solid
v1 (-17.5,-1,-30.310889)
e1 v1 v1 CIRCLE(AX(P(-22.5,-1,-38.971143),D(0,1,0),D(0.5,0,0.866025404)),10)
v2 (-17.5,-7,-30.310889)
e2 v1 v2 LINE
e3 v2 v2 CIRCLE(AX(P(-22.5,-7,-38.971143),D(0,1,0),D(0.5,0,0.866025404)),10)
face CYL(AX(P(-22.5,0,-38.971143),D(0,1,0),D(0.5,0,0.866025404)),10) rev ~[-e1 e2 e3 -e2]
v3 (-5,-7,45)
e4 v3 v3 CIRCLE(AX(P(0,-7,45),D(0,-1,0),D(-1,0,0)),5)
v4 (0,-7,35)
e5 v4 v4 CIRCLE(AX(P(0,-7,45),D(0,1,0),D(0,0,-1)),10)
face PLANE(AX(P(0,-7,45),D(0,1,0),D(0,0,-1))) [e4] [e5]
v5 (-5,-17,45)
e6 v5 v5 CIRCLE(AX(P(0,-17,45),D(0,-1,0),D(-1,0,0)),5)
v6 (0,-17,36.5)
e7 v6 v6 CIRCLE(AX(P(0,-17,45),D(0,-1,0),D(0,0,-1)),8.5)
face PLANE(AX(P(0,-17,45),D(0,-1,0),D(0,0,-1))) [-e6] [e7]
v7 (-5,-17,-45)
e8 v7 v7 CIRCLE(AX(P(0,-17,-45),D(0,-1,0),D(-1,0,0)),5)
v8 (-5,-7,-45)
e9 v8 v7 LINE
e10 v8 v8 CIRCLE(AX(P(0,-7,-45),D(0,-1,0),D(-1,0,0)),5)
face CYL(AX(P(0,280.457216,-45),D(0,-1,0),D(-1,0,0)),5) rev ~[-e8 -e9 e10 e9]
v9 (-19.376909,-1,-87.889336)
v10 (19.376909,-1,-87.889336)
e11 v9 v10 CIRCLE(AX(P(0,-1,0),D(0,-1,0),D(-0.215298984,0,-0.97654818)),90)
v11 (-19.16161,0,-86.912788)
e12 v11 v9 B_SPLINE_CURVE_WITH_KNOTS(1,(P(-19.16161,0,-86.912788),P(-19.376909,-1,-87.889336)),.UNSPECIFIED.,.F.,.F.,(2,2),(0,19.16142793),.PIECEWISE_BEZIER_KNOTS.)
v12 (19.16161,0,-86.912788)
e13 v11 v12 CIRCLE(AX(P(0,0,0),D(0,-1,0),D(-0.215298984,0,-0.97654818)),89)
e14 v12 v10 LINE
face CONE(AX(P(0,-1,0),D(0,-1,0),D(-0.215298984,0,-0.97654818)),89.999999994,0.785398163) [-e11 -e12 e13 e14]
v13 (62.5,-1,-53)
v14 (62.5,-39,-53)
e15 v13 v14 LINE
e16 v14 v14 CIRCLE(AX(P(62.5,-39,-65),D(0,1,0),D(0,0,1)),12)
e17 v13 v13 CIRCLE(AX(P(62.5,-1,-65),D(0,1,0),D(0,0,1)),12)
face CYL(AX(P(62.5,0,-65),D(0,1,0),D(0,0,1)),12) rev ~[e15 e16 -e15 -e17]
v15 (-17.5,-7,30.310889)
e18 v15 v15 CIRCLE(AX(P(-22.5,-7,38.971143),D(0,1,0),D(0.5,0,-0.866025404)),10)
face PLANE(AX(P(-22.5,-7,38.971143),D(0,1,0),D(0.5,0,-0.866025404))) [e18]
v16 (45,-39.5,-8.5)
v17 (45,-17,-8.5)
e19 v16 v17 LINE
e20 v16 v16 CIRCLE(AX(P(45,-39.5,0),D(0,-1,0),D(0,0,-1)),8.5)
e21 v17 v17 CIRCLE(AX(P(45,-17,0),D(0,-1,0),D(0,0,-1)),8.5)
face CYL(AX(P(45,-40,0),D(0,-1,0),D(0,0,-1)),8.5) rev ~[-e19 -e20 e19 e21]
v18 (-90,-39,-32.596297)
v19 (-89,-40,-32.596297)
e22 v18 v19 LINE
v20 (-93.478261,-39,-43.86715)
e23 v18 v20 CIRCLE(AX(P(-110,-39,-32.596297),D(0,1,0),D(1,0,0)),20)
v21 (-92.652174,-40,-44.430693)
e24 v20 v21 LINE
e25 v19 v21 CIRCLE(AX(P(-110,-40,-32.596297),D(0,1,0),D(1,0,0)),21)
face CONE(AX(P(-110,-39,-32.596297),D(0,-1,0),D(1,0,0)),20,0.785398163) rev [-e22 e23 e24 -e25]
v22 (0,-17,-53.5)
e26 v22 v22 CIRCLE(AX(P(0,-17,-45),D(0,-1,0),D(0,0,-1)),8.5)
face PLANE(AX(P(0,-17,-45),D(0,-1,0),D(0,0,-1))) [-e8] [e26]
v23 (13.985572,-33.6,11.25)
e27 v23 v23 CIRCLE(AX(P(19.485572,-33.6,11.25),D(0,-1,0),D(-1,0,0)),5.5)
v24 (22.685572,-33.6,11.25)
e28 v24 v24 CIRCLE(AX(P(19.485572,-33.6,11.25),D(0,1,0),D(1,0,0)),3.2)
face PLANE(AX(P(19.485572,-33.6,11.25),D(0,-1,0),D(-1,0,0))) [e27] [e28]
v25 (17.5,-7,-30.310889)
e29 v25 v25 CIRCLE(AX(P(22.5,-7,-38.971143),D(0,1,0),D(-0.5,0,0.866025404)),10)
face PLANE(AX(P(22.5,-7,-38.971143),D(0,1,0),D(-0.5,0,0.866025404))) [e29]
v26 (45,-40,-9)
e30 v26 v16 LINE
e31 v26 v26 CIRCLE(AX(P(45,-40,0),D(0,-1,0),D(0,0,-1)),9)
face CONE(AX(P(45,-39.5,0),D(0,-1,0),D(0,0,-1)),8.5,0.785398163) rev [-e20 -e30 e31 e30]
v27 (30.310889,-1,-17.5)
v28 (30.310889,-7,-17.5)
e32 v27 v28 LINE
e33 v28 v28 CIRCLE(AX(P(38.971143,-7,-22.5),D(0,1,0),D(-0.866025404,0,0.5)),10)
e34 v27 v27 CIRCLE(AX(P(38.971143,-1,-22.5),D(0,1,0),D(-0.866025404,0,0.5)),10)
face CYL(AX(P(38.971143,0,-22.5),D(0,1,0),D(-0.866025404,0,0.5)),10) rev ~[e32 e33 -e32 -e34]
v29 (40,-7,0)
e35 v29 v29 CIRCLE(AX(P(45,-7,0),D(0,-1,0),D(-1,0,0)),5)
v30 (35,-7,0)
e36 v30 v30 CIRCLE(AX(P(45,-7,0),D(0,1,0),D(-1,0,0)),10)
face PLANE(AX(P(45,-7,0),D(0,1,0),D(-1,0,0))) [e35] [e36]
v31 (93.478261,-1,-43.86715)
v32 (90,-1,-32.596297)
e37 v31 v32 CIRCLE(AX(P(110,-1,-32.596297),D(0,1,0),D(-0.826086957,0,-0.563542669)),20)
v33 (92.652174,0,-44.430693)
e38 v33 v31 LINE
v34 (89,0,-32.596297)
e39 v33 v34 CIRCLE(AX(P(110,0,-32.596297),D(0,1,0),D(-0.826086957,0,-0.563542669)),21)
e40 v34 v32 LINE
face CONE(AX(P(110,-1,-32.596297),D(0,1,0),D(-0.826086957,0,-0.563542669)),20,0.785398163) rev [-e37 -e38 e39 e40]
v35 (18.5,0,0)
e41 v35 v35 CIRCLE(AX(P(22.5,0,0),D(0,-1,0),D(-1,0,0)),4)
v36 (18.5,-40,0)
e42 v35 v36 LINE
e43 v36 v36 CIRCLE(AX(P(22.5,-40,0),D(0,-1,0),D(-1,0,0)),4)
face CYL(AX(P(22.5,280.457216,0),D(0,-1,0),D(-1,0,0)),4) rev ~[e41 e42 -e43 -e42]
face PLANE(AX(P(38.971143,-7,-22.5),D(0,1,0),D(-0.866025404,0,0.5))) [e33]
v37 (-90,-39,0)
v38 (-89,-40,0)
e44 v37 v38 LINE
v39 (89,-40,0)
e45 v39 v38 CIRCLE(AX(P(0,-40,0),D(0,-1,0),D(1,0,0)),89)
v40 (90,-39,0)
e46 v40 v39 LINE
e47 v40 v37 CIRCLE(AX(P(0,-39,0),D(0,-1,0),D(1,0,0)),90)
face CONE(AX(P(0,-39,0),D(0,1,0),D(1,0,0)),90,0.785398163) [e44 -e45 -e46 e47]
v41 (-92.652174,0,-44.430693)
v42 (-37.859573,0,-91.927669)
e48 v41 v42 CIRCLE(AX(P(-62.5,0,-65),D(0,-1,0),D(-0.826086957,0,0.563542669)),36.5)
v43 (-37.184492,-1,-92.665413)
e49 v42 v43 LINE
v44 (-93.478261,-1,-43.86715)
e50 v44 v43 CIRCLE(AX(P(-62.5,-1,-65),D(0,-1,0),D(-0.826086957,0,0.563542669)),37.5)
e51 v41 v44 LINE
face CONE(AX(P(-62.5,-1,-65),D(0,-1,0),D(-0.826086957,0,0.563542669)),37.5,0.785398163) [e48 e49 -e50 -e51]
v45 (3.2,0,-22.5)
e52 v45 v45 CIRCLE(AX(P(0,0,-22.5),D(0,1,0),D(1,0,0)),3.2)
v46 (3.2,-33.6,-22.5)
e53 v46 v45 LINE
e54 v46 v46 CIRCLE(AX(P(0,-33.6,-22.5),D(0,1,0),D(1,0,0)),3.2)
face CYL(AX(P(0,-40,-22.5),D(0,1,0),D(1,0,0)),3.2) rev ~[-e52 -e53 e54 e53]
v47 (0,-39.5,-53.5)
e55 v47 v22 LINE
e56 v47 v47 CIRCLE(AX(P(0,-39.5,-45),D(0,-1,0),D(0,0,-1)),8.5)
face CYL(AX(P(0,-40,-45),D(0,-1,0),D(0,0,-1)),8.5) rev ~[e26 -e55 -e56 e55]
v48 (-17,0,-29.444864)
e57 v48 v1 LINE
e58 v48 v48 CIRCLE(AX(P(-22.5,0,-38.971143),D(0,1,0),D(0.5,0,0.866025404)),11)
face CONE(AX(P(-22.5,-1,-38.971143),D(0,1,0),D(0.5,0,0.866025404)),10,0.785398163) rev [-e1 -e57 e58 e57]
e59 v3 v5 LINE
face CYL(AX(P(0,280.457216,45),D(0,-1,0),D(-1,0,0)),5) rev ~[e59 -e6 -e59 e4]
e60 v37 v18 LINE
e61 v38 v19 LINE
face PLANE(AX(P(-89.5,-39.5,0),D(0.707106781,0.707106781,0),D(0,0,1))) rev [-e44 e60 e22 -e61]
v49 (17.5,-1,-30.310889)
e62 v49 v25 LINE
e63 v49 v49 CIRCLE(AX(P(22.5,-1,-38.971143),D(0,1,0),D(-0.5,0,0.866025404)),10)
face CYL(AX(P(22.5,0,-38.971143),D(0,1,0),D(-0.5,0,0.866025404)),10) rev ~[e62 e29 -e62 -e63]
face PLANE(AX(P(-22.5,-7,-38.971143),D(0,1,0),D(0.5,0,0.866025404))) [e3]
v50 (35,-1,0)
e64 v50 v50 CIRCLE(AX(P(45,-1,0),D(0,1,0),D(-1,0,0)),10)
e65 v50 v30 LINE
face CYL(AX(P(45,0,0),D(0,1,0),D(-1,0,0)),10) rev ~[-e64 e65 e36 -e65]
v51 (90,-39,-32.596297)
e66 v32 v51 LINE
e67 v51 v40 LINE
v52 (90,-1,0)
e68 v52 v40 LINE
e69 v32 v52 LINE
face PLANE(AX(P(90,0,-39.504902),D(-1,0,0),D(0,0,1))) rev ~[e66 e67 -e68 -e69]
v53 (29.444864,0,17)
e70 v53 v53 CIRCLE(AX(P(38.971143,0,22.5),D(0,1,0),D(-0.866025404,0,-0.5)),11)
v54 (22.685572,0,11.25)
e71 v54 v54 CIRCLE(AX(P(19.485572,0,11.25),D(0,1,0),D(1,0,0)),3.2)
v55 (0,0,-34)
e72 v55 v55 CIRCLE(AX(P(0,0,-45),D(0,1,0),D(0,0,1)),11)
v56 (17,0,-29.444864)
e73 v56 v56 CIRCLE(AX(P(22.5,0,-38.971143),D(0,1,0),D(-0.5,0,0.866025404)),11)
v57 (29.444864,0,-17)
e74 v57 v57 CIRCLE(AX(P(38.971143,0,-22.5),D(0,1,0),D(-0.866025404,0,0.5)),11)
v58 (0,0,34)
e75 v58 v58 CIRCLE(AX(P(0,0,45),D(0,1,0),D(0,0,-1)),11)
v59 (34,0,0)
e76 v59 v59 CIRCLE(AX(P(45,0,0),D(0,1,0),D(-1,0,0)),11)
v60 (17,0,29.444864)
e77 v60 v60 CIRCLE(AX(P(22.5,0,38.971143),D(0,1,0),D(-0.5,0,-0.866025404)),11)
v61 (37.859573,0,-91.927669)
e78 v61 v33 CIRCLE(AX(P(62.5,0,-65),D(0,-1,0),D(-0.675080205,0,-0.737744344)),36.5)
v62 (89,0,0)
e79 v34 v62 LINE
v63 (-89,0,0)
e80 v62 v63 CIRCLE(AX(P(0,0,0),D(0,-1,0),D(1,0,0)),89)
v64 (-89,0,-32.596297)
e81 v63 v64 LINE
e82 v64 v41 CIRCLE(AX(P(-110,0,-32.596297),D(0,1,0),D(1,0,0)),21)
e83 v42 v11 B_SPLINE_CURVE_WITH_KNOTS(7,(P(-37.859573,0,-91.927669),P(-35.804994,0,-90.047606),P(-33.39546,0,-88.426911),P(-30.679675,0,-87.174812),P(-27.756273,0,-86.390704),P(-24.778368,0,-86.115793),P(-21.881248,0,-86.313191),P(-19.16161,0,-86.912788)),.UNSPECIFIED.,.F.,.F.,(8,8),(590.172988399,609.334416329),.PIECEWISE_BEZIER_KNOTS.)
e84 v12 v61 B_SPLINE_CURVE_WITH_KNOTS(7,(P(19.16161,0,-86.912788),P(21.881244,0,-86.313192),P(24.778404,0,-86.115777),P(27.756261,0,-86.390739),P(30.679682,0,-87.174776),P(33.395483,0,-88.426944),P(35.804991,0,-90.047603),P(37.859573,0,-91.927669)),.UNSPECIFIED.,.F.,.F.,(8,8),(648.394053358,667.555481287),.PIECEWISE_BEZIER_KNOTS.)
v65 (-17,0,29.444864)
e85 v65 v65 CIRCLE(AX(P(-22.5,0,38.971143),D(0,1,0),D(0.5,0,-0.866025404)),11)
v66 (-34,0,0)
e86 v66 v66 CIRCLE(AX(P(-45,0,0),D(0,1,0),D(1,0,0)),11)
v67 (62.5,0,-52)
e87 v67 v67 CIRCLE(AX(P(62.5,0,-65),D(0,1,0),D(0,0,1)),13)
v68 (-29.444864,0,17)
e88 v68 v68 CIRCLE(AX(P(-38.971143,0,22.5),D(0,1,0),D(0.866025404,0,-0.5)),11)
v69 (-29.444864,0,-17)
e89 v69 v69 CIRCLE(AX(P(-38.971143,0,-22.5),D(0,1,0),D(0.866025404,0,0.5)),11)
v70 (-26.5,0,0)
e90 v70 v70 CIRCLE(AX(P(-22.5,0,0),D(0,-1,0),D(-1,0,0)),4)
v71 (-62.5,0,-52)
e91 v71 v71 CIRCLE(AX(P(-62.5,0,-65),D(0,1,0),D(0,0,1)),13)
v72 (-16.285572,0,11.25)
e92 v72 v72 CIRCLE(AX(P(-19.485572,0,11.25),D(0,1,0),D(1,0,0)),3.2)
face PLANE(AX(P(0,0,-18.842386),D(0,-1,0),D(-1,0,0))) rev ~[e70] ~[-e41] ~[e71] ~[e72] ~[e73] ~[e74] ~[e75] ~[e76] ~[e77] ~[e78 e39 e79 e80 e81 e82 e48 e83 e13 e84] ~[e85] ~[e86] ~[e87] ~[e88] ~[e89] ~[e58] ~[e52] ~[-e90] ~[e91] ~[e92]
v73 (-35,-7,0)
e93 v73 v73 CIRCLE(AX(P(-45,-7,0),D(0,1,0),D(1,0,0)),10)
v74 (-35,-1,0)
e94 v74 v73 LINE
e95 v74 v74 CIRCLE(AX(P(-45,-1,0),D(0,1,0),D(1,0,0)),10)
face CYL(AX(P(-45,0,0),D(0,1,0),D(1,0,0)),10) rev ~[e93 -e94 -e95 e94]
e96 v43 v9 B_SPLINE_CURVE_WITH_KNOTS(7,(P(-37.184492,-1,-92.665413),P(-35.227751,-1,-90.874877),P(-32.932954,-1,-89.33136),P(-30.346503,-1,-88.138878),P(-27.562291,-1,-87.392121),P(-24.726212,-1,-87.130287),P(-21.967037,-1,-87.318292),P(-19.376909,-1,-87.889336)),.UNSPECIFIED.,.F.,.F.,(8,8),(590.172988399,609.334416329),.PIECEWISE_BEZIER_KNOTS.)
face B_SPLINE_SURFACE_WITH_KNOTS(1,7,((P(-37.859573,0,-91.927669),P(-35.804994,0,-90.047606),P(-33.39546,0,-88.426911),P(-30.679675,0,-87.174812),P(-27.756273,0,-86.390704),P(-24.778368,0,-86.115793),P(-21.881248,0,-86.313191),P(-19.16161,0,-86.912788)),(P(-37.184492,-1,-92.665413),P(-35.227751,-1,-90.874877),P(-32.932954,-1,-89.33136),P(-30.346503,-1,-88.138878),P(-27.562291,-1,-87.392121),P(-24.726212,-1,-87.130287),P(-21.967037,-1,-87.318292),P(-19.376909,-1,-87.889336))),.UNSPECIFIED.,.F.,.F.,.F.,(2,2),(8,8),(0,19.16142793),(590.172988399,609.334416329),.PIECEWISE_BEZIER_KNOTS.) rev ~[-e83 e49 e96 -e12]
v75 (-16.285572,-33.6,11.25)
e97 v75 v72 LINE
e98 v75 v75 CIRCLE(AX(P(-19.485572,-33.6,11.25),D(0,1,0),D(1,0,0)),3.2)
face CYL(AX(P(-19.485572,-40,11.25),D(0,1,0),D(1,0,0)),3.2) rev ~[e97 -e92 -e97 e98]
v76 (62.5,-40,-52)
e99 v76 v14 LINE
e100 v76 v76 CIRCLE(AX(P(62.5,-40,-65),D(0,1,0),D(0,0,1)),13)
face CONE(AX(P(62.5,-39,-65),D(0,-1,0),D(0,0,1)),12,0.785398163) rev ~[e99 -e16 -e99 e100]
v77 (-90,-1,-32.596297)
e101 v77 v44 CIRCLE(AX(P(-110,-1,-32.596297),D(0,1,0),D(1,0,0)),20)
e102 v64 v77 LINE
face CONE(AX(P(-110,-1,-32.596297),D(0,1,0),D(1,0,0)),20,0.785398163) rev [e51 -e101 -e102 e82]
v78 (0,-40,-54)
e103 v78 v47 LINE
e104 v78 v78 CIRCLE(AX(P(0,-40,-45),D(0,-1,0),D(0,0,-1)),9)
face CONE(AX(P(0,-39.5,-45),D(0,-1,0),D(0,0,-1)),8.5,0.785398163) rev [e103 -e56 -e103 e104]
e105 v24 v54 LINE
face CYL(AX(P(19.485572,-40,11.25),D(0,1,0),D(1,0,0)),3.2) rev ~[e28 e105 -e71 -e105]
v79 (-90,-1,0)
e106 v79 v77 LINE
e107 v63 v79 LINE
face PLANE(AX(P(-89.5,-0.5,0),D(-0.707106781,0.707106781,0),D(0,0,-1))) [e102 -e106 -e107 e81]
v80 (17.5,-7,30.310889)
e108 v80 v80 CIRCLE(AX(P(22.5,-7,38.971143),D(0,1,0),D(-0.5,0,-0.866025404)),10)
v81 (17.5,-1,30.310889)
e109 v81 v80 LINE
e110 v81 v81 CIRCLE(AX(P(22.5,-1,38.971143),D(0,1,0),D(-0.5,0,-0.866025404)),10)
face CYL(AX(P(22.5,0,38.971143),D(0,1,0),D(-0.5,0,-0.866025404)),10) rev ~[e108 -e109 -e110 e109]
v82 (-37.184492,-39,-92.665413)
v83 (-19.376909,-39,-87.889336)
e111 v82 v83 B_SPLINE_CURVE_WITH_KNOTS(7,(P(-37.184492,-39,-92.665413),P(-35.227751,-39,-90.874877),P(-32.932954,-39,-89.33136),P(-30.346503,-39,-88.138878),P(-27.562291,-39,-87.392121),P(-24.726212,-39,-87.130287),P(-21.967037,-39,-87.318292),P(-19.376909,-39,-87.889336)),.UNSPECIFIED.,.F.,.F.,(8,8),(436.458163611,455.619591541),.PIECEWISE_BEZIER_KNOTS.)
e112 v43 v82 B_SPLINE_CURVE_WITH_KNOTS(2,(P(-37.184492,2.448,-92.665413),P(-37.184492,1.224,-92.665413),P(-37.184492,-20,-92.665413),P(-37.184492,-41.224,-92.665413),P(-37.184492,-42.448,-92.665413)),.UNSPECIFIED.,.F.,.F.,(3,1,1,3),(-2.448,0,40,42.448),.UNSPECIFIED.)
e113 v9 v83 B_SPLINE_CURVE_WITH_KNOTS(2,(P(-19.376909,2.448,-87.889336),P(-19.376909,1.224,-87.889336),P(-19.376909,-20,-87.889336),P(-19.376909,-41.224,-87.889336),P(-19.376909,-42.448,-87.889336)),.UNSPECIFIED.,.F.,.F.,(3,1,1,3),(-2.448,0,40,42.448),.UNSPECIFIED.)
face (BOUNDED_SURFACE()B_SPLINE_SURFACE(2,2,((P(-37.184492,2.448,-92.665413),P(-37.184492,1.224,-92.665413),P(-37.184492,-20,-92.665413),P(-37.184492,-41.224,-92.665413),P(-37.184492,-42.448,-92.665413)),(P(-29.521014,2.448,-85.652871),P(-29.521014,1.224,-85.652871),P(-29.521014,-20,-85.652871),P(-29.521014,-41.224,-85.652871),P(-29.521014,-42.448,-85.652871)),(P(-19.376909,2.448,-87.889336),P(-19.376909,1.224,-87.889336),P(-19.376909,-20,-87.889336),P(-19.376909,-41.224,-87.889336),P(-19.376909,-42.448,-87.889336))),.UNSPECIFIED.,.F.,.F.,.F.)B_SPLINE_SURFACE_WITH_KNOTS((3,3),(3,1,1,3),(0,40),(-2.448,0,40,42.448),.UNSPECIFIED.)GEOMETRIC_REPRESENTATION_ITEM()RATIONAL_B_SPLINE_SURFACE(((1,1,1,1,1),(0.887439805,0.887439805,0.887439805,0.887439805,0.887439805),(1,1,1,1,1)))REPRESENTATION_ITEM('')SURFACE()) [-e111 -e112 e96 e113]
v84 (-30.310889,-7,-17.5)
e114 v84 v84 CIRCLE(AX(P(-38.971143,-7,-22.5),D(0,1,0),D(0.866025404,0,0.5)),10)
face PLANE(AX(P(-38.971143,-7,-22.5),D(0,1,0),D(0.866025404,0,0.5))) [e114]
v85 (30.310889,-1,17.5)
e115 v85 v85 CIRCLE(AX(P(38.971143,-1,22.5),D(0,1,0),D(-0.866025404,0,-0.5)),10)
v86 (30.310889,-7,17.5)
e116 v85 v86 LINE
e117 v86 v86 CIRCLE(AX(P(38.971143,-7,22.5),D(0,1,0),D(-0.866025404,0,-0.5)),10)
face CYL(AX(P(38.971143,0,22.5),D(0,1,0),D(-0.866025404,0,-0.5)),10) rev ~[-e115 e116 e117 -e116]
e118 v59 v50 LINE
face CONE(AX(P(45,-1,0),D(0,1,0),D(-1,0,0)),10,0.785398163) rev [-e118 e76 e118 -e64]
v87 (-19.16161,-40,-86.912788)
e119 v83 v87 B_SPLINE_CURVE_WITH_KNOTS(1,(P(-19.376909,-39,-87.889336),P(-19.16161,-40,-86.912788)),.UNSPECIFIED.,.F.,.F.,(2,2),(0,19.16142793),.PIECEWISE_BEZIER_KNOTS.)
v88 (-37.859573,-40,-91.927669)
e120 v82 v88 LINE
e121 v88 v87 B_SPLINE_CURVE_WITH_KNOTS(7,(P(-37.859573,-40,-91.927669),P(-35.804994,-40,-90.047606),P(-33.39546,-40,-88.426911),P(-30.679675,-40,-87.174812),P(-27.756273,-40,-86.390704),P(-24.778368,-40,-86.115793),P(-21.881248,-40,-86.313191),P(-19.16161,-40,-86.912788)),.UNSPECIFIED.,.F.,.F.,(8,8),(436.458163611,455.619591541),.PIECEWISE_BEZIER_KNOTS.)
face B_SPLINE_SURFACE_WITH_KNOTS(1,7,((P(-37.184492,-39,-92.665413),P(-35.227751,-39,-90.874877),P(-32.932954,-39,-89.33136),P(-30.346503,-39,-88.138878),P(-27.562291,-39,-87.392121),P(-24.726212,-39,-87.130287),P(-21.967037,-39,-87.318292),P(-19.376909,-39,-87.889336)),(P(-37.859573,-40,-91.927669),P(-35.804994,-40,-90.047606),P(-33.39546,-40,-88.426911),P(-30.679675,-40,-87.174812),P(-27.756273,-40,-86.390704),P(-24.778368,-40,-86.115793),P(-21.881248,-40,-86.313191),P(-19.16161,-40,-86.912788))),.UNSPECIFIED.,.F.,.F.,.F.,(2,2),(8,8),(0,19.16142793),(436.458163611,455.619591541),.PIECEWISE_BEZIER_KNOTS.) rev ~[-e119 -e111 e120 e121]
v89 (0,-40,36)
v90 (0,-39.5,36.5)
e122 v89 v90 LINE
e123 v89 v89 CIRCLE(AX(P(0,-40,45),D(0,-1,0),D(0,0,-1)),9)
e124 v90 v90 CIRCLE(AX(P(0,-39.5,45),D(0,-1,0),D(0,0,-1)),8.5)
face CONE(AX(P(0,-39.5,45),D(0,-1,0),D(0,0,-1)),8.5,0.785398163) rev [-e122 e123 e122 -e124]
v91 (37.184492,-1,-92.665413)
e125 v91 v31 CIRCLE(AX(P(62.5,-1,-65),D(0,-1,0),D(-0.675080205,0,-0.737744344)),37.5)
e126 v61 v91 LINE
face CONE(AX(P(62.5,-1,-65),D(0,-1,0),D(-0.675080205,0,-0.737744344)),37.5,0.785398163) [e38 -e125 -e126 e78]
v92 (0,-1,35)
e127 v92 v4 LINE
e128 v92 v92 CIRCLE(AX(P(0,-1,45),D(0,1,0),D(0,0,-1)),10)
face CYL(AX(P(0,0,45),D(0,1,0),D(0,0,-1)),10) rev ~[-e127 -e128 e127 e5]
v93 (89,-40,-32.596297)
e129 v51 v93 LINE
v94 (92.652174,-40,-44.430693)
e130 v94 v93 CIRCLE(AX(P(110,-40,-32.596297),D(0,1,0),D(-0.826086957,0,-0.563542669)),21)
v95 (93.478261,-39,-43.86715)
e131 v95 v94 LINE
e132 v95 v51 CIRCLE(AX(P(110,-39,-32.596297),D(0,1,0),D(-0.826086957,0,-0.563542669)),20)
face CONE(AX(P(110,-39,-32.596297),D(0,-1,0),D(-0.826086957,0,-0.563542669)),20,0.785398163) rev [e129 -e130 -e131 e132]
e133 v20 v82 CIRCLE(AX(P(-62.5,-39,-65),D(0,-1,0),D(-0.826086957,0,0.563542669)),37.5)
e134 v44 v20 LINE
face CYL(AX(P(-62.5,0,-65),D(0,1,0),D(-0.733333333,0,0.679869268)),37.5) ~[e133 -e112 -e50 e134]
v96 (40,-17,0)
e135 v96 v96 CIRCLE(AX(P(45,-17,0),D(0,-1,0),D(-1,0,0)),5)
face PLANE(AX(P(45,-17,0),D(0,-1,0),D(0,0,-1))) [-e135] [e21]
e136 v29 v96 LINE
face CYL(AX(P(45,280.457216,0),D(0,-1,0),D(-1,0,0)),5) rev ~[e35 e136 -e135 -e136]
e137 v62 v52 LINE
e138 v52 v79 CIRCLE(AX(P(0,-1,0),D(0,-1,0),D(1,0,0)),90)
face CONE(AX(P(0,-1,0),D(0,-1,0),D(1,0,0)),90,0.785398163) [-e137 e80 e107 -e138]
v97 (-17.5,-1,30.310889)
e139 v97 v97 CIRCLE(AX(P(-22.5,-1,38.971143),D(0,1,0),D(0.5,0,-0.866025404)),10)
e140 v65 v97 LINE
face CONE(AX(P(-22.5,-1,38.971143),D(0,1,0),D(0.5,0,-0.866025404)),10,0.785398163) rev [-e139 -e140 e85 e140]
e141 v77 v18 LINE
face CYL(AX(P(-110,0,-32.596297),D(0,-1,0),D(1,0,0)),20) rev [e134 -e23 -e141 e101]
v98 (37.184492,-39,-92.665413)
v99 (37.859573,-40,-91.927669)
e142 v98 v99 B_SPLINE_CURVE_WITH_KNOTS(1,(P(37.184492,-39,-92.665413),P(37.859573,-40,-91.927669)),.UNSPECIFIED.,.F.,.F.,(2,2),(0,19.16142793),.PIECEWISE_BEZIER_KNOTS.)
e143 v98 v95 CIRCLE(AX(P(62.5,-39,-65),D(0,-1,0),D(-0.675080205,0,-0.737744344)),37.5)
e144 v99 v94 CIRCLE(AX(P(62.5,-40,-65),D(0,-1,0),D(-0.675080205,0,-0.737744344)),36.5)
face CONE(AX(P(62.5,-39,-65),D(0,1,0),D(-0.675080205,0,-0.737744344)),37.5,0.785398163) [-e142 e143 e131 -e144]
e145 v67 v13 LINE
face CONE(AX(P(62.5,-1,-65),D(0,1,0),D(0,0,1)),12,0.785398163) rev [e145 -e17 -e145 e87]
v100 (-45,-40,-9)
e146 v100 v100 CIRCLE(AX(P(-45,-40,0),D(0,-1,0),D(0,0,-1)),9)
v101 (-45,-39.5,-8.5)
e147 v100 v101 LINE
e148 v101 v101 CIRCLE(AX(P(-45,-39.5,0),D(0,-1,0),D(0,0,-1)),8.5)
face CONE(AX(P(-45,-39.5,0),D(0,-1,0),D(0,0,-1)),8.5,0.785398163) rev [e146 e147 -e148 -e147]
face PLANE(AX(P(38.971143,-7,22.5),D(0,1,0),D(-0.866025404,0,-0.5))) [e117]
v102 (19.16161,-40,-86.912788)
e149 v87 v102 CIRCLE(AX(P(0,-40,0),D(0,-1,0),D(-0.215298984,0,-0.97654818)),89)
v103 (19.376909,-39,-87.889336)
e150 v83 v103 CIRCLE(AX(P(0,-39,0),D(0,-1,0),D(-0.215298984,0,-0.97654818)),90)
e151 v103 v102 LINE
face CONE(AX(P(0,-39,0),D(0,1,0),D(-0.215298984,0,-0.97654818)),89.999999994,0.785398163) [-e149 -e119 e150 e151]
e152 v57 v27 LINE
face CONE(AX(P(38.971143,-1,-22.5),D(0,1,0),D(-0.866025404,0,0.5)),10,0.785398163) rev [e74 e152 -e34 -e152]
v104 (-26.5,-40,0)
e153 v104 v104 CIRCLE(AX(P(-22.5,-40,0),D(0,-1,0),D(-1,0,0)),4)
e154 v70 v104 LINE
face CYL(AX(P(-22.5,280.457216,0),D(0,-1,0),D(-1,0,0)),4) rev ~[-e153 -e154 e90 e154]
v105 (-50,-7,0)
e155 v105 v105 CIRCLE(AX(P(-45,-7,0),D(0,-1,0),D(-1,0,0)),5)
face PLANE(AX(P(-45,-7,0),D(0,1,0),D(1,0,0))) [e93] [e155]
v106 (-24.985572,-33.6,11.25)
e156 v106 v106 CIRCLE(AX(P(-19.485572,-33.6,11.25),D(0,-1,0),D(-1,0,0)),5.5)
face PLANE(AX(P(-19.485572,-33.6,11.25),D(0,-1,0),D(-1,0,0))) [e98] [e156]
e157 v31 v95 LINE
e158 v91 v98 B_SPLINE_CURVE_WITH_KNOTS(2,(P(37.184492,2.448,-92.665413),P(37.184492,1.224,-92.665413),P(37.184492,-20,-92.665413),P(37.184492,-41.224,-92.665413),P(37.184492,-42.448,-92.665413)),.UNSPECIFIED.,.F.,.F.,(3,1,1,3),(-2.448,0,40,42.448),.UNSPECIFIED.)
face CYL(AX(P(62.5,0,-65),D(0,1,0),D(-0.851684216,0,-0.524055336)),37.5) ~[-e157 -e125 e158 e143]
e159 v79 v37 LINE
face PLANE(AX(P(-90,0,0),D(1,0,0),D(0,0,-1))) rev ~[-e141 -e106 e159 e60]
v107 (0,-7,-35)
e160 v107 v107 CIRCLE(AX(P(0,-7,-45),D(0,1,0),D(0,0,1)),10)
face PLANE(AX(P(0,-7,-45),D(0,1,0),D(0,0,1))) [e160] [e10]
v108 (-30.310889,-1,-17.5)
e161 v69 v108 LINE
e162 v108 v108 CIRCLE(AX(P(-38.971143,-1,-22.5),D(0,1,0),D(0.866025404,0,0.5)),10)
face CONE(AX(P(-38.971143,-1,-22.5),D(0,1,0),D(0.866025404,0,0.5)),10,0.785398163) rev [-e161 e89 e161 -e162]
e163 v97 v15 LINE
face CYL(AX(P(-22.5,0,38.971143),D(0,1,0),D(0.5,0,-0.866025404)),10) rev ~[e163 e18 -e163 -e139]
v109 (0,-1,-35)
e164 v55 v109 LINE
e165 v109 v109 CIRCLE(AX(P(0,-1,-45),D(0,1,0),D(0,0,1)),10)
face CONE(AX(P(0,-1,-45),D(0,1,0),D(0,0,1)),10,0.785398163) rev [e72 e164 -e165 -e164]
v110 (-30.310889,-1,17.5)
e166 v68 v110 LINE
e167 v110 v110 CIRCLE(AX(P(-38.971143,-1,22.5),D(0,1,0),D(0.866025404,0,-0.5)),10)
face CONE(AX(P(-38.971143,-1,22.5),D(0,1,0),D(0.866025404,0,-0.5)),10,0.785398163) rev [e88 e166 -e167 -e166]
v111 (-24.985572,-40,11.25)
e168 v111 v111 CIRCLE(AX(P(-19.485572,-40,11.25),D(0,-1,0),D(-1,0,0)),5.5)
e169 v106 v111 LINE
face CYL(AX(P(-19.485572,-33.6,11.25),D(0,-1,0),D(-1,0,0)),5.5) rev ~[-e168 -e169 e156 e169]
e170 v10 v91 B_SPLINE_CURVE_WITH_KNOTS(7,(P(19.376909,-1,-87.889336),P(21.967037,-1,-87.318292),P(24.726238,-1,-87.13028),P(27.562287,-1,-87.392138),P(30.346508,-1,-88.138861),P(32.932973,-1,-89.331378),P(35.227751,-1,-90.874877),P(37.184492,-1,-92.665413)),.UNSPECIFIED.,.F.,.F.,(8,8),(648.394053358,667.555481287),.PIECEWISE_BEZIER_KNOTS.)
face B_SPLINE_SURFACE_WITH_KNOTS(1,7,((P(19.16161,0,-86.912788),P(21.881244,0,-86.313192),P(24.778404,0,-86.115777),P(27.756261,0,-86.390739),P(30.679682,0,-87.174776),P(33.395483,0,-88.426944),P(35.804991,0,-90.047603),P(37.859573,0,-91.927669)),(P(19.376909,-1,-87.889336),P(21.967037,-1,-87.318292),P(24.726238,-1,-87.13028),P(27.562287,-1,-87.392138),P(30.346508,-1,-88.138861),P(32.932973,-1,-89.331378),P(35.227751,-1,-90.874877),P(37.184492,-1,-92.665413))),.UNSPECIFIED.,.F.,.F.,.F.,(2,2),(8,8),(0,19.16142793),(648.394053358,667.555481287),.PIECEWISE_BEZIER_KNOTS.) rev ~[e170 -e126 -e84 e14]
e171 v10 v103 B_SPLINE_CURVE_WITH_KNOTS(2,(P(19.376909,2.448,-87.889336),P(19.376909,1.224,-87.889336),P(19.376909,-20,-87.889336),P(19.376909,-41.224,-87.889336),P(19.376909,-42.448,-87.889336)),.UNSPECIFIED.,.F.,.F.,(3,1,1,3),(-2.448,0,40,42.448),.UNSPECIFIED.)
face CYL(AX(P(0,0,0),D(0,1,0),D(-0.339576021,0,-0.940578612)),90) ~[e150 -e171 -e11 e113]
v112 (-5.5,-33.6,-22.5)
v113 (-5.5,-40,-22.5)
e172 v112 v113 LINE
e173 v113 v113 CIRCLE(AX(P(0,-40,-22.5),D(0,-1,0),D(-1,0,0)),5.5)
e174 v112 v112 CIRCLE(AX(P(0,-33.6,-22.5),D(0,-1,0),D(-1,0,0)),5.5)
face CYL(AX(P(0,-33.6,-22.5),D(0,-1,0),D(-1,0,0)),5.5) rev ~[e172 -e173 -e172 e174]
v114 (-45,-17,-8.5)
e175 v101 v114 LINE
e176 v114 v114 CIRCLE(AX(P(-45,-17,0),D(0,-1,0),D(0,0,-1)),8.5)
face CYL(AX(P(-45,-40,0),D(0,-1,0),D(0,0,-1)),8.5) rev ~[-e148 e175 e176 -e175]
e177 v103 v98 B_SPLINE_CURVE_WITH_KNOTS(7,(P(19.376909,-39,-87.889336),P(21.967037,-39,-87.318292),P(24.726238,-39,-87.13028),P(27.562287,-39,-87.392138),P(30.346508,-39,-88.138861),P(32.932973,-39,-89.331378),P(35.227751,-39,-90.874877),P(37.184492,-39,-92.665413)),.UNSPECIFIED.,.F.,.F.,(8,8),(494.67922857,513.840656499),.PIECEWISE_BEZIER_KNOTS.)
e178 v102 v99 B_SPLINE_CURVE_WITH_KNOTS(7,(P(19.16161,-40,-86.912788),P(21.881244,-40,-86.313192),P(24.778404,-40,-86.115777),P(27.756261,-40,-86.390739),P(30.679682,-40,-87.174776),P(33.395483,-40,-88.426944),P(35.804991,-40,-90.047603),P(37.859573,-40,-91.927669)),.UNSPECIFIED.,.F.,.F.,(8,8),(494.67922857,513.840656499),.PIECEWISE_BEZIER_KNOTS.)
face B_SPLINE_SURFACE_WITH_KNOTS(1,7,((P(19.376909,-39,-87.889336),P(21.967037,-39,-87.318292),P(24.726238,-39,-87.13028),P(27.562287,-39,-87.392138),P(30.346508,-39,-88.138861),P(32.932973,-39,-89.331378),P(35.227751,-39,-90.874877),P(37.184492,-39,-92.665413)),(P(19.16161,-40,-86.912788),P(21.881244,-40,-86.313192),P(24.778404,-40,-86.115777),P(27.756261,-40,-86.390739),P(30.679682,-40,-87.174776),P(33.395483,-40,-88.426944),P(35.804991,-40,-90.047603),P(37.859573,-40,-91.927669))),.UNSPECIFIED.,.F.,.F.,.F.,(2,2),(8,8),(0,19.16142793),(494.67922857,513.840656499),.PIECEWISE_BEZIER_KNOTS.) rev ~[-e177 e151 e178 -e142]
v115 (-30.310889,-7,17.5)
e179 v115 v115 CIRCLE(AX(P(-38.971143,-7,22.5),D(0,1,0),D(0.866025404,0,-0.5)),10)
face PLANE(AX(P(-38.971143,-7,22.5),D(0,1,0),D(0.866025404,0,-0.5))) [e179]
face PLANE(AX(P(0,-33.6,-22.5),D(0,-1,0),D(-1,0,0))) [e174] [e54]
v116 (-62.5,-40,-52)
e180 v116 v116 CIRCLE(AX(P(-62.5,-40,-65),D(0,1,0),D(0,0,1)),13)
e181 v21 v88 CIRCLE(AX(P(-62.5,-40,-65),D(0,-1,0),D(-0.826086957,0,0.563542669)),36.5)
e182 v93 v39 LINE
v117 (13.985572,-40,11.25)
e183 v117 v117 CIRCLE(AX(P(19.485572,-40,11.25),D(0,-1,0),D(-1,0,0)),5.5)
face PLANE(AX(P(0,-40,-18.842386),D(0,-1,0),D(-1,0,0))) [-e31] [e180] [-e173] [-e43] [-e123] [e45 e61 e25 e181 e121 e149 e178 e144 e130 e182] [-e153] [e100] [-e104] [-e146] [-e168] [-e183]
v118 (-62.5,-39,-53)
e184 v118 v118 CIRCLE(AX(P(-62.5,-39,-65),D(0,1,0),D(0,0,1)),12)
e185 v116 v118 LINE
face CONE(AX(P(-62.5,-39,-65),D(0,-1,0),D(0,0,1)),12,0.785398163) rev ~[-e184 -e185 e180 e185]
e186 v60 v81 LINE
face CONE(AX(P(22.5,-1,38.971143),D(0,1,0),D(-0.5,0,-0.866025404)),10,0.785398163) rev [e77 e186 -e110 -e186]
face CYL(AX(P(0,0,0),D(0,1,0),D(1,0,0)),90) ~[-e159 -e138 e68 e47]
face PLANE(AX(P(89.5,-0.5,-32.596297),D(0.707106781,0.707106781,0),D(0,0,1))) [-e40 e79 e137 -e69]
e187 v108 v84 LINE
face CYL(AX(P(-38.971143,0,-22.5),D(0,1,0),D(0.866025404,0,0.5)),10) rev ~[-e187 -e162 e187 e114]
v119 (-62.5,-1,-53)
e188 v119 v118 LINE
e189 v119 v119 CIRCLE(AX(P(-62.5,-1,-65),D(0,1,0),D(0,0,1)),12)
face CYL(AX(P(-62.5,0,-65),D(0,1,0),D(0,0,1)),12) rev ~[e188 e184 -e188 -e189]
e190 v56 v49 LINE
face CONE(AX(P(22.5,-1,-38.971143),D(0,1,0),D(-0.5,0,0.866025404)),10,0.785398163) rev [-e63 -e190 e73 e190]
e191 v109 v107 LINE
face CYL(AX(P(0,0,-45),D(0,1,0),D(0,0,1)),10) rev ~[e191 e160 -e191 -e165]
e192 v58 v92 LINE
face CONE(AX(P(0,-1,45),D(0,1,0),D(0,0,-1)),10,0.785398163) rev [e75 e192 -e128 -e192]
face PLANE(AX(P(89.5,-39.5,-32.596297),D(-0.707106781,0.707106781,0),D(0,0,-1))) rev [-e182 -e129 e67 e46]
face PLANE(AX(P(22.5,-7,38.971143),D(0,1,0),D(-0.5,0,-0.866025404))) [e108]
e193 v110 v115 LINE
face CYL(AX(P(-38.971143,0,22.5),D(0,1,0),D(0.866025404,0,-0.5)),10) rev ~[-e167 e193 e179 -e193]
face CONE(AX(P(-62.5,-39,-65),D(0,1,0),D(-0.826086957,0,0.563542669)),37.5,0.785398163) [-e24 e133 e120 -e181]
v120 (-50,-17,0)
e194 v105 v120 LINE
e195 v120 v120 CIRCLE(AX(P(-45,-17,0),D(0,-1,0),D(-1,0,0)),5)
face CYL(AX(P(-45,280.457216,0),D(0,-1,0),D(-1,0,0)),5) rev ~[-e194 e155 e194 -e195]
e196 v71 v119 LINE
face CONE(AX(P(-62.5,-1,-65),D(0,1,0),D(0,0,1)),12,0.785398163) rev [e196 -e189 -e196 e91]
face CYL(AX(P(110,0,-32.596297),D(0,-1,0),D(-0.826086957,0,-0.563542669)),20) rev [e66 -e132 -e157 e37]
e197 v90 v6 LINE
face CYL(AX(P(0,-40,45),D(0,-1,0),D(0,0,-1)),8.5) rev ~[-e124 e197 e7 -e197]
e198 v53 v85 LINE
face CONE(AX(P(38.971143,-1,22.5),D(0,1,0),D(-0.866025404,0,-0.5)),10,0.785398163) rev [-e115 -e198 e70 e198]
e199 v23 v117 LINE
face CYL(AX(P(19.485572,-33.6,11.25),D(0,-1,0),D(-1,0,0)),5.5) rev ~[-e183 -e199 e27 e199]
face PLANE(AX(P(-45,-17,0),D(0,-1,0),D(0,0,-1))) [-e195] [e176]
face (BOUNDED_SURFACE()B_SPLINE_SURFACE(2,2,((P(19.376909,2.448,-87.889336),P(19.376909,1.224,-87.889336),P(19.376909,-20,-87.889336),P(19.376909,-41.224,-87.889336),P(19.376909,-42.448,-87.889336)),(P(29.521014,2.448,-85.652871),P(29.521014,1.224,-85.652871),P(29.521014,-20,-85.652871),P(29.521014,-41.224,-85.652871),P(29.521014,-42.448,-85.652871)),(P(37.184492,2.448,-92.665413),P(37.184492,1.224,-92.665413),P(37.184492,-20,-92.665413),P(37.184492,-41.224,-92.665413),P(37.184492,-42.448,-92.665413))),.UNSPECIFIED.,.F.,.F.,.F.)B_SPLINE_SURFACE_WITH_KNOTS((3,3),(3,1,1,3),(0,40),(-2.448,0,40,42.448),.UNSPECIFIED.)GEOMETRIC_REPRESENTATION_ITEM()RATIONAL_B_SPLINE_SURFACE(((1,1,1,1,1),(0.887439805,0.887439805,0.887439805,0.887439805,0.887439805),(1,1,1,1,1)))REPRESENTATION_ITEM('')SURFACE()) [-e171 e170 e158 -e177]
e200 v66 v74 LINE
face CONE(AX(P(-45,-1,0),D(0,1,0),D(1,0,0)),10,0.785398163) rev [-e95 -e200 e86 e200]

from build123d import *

# Parameters (mm, degrees)
BOSS_EXTRUDE1_DEPTH                                 = 40
FILLET1_R                                           = 20
CUT_EXTRUDE2_REACH                                  = 150.682
SKETCH3_R                                           = 12
SKETCH4_R                                           = 10
CUT_EXTRUDE3_DEPTH                                  = 7
CIRPATTERN1_COUNT                                   = 12
F_10_0_10_DIAMETER_HOLE1_D                          = 10
SKETCH8_R                                           = 8.5
CUT_EXTRUDE4_DEPTH                                  = 23
CBORE_FOR_M6_HEX_SOCKET_HEAD_CAP_SCREW1_D           = 6.4
CBORE_FOR_M6_HEX_SOCKET_HEAD_CAP_SCREW1_CBORE_D     = 11
CBORE_FOR_M6_HEX_SOCKET_HEAD_CAP_SCREW1_CBORE_DEPTH = 6.4
F_8_0MM_DOWEL_HOLE1_D                               = 8
CHAMFER1_SIZE                                       = 1
CHAMFER2_SIZE                                       = 0.5
CHAMFER3_SIZE                                       = 1


with BuildPart() as part:
    # Sketch1 → Boss-Extrude1 (new body)
    with BuildSketch(Plane(origin=(0, 0, 0), x_dir=(1, 0, 0), z_dir=(0, 1, 0))):
        with BuildLine():
            Line((-90, 0), (-90, 39.504902432))
            ThreePointArc((-90, 39.504902432), (-85.182396525, 94.862332258), (-30.561841884, 84.652075111))
            ThreePointArc((-30.561841884, 84.652075111), (0, 90), (30.561841884, 84.652075111))
            ThreePointArc((30.561841884, 84.652075111), (85.182396525, 94.862332258), (90, 39.504902432))
            Line((90, 39.504902432), (90, 0))
            ThreePointArc((90, 0), (0, -90), (-90, 0))
        make_face()
    extrude(amount=-BOSS_EXTRUDE1_DEPTH)

    # Fillet1
    fillet1_edges = [part.edges().sort_by_distance(p)[0] for p in [
        (30.561841884, -20, -84.652075111),
        (90, -20, -39.504902432),
        (-90, -20, -39.504902432),
        (-30.561841884, -20, -84.652075111),
    ]]
    fillet(fillet1_edges, radius=FILLET1_R)

    # Sketch3 → Cut-Extrude2 (cut, up to next)
    with BuildSketch(Plane(origin=(0, 0, 0), x_dir=(1, 0, 0), z_dir=(0, 1, 0)), mode=Mode.PRIVATE) as cut_extrude2_sk1:
        with Locations(Location((-62.5, 65, 0), (0, 0, 270))):
            Circle(SKETCH3_R)
    cut_extrude2_tool1 = extrude(cut_extrude2_sk1.sketch, amount=-CUT_EXTRUDE2_REACH, mode=Mode.PRIVATE) & part.part
    # Sketch3 → Cut-Extrude2 (cut, up to next)
    with BuildSketch(Plane(origin=(0, 0, 0), x_dir=(1, 0, 0), z_dir=(0, 1, 0)), mode=Mode.PRIVATE) as cut_extrude2_sk2:
        with Locations(Location((62.5, 65, 0), (0, 0, 270))):
            Circle(SKETCH3_R)
    cut_extrude2_tool2 = extrude(cut_extrude2_sk2.sketch, amount=-CUT_EXTRUDE2_REACH, mode=Mode.PRIVATE) & part.part
    add(cut_extrude2_tool1.solids().sort_by_distance((-62.5, 0, -65))[0], mode=Mode.SUBTRACT)
    add(cut_extrude2_tool2.solids().sort_by_distance((62.5, 0, -65))[0], mode=Mode.SUBTRACT)

    # Sketch4 → Cut-Extrude3 (cut)
    with BuildSketch(Plane(origin=(0, 0, 0), x_dir=(1, 0, 0), z_dir=(0, 1, 0))):
        with Locations(Location((0, 45, 0), (0, 0, 270))):
            Circle(SKETCH4_R)
    cut_extrude3 = extrude(amount=-CUT_EXTRUDE3_DEPTH, mode=Mode.SUBTRACT)

    # CirPattern1: Cut-Extrude3 ×12 about axis
    cirpattern1_axis = Axis((0, 0, 0), (0, 1, 0))
    for i in range(1, CIRPATTERN1_COUNT):
        add(cut_extrude3.rotate(cirpattern1_axis, i * 360 / CIRPATTERN1_COUNT), mode=Mode.SUBTRACT)

    # Ø10.0 (10) Diameter Hole1 (through all)
    with Locations(Plane(origin=(0, 0, 0), x_dir=(1, 0, 0), z_dir=(0, 1, 0))):
        with Locations((0, 45), (45, 0), (0, -45), (-45, 0)):
            Hole(F_10_0_10_DIAMETER_HOLE1_D / 2)

    # Sketch8 → Cut-Extrude4 (cut)
    with BuildSketch(Plane.XZ.offset(40)):
        with Locations(Location((0, 45, 0), (0, 0, 270))):
            Circle(SKETCH8_R)
        with Locations(Location((45, 0, 0), (0, 0, 270))):
            Circle(SKETCH8_R)
        with Locations(Location((0, -45, 0), (0, 0, 270))):
            Circle(SKETCH8_R)
        with Locations(Location((-45, 0, 0), (0, 0, 270))):
            Circle(SKETCH8_R)
    extrude(amount=-CUT_EXTRUDE4_DEPTH, mode=Mode.SUBTRACT)

    # CBORE for M6 Hex Socket Head Cap Screw1 (through all)
    with Locations(Plane(origin=(0, -40, 0), x_dir=(-1, 0, 0), z_dir=(0, -1, 0))):
        with Locations((0, 22.5), (-19.485571585, -11.25), (19.485571585, -11.25)):
            CounterBoreHole(CBORE_FOR_M6_HEX_SOCKET_HEAD_CAP_SCREW1_D / 2, CBORE_FOR_M6_HEX_SOCKET_HEAD_CAP_SCREW1_CBORE_D / 2, CBORE_FOR_M6_HEX_SOCKET_HEAD_CAP_SCREW1_CBORE_DEPTH)

    # Ø8.0mm Dowel Hole1 (through all)
    with Locations(Plane(origin=(0, 0, 0), x_dir=(1, 0, 0), z_dir=(0, 1, 0))):
        with Locations((-22.5, 0), (22.5, 0)):
            Hole(F_8_0MM_DOWEL_HOLE1_D / 2)

    # Chamfer1
    chamfer1_edges = [part.edges().sort_by_distance(p)[0] for p in [
        (0, -40, 90),
        (87.062864481, 0, -93.335766948),
        (87.062864481, -40, -93.335766948),
        (90, -40, -16.298148254),
        (0, 0, -90),
        (0, -40, -90),
        (-87.062864481, 0, -93.335766948),
        (-87.062864481, -40, -93.335766948),
        (-90, 0, -16.298148254),
        (-90, -40, -16.298148254),
        (28.863873105, 0, -88.103017476),
        (28.863873105, -40, -88.103017476),
        (-28.863873105, 0, -88.103017476),
        (-28.863873105, -40, -88.103017476),
        (90.889338282, 0, -38.493974754),
        (90.889338282, -40, -38.493974754),
        (-90.889338282, 0, -38.493974754),
        (-90.889338282, -40, -38.493974754),
        (-62.5, 0, -77),
        (-62.5, -40, -77),
        (62.5, 0, -77),
        (62.5, -40, -77),
        (90, 0, -16.298148254),
        (0, 0, 90),
    ]]
    chamfer(chamfer1_edges, length=CHAMFER1_SIZE)

    # Chamfer2
    chamfer2_edges = [part.edges().sort_by_distance(p)[0] for p in [
        (0, -40, 53.5),
        (45, -40, 8.5),
        (0, -40, -36.5),
        (-45, -40, 8.5),
    ]]
    chamfer(chamfer2_edges, length=CHAMFER2_SIZE)

    # Chamfer3
    chamfer3_edges = [part.edges().sort_by_distance(p)[0] for p in [
        (0, 0, -55),
        (-47.631397208, 0, -27.5),
        (-55, 0, 0),
        (-27.5, 0, 47.631397208),
        (-47.631397208, 0, 27.5),
        (55, 0, 0),
        (47.631397208, 0, 27.5),
        (27.5, 0, 47.631397208),
        (0, 0, 55),
        (27.5, 0, -47.631397208),
        (47.631397208, 0, -27.5),
        (-27.5, 0, -47.631397208),
    ]]
    chamfer(chamfer3_edges, length=CHAMFER3_SIZE)


solid = part.part
